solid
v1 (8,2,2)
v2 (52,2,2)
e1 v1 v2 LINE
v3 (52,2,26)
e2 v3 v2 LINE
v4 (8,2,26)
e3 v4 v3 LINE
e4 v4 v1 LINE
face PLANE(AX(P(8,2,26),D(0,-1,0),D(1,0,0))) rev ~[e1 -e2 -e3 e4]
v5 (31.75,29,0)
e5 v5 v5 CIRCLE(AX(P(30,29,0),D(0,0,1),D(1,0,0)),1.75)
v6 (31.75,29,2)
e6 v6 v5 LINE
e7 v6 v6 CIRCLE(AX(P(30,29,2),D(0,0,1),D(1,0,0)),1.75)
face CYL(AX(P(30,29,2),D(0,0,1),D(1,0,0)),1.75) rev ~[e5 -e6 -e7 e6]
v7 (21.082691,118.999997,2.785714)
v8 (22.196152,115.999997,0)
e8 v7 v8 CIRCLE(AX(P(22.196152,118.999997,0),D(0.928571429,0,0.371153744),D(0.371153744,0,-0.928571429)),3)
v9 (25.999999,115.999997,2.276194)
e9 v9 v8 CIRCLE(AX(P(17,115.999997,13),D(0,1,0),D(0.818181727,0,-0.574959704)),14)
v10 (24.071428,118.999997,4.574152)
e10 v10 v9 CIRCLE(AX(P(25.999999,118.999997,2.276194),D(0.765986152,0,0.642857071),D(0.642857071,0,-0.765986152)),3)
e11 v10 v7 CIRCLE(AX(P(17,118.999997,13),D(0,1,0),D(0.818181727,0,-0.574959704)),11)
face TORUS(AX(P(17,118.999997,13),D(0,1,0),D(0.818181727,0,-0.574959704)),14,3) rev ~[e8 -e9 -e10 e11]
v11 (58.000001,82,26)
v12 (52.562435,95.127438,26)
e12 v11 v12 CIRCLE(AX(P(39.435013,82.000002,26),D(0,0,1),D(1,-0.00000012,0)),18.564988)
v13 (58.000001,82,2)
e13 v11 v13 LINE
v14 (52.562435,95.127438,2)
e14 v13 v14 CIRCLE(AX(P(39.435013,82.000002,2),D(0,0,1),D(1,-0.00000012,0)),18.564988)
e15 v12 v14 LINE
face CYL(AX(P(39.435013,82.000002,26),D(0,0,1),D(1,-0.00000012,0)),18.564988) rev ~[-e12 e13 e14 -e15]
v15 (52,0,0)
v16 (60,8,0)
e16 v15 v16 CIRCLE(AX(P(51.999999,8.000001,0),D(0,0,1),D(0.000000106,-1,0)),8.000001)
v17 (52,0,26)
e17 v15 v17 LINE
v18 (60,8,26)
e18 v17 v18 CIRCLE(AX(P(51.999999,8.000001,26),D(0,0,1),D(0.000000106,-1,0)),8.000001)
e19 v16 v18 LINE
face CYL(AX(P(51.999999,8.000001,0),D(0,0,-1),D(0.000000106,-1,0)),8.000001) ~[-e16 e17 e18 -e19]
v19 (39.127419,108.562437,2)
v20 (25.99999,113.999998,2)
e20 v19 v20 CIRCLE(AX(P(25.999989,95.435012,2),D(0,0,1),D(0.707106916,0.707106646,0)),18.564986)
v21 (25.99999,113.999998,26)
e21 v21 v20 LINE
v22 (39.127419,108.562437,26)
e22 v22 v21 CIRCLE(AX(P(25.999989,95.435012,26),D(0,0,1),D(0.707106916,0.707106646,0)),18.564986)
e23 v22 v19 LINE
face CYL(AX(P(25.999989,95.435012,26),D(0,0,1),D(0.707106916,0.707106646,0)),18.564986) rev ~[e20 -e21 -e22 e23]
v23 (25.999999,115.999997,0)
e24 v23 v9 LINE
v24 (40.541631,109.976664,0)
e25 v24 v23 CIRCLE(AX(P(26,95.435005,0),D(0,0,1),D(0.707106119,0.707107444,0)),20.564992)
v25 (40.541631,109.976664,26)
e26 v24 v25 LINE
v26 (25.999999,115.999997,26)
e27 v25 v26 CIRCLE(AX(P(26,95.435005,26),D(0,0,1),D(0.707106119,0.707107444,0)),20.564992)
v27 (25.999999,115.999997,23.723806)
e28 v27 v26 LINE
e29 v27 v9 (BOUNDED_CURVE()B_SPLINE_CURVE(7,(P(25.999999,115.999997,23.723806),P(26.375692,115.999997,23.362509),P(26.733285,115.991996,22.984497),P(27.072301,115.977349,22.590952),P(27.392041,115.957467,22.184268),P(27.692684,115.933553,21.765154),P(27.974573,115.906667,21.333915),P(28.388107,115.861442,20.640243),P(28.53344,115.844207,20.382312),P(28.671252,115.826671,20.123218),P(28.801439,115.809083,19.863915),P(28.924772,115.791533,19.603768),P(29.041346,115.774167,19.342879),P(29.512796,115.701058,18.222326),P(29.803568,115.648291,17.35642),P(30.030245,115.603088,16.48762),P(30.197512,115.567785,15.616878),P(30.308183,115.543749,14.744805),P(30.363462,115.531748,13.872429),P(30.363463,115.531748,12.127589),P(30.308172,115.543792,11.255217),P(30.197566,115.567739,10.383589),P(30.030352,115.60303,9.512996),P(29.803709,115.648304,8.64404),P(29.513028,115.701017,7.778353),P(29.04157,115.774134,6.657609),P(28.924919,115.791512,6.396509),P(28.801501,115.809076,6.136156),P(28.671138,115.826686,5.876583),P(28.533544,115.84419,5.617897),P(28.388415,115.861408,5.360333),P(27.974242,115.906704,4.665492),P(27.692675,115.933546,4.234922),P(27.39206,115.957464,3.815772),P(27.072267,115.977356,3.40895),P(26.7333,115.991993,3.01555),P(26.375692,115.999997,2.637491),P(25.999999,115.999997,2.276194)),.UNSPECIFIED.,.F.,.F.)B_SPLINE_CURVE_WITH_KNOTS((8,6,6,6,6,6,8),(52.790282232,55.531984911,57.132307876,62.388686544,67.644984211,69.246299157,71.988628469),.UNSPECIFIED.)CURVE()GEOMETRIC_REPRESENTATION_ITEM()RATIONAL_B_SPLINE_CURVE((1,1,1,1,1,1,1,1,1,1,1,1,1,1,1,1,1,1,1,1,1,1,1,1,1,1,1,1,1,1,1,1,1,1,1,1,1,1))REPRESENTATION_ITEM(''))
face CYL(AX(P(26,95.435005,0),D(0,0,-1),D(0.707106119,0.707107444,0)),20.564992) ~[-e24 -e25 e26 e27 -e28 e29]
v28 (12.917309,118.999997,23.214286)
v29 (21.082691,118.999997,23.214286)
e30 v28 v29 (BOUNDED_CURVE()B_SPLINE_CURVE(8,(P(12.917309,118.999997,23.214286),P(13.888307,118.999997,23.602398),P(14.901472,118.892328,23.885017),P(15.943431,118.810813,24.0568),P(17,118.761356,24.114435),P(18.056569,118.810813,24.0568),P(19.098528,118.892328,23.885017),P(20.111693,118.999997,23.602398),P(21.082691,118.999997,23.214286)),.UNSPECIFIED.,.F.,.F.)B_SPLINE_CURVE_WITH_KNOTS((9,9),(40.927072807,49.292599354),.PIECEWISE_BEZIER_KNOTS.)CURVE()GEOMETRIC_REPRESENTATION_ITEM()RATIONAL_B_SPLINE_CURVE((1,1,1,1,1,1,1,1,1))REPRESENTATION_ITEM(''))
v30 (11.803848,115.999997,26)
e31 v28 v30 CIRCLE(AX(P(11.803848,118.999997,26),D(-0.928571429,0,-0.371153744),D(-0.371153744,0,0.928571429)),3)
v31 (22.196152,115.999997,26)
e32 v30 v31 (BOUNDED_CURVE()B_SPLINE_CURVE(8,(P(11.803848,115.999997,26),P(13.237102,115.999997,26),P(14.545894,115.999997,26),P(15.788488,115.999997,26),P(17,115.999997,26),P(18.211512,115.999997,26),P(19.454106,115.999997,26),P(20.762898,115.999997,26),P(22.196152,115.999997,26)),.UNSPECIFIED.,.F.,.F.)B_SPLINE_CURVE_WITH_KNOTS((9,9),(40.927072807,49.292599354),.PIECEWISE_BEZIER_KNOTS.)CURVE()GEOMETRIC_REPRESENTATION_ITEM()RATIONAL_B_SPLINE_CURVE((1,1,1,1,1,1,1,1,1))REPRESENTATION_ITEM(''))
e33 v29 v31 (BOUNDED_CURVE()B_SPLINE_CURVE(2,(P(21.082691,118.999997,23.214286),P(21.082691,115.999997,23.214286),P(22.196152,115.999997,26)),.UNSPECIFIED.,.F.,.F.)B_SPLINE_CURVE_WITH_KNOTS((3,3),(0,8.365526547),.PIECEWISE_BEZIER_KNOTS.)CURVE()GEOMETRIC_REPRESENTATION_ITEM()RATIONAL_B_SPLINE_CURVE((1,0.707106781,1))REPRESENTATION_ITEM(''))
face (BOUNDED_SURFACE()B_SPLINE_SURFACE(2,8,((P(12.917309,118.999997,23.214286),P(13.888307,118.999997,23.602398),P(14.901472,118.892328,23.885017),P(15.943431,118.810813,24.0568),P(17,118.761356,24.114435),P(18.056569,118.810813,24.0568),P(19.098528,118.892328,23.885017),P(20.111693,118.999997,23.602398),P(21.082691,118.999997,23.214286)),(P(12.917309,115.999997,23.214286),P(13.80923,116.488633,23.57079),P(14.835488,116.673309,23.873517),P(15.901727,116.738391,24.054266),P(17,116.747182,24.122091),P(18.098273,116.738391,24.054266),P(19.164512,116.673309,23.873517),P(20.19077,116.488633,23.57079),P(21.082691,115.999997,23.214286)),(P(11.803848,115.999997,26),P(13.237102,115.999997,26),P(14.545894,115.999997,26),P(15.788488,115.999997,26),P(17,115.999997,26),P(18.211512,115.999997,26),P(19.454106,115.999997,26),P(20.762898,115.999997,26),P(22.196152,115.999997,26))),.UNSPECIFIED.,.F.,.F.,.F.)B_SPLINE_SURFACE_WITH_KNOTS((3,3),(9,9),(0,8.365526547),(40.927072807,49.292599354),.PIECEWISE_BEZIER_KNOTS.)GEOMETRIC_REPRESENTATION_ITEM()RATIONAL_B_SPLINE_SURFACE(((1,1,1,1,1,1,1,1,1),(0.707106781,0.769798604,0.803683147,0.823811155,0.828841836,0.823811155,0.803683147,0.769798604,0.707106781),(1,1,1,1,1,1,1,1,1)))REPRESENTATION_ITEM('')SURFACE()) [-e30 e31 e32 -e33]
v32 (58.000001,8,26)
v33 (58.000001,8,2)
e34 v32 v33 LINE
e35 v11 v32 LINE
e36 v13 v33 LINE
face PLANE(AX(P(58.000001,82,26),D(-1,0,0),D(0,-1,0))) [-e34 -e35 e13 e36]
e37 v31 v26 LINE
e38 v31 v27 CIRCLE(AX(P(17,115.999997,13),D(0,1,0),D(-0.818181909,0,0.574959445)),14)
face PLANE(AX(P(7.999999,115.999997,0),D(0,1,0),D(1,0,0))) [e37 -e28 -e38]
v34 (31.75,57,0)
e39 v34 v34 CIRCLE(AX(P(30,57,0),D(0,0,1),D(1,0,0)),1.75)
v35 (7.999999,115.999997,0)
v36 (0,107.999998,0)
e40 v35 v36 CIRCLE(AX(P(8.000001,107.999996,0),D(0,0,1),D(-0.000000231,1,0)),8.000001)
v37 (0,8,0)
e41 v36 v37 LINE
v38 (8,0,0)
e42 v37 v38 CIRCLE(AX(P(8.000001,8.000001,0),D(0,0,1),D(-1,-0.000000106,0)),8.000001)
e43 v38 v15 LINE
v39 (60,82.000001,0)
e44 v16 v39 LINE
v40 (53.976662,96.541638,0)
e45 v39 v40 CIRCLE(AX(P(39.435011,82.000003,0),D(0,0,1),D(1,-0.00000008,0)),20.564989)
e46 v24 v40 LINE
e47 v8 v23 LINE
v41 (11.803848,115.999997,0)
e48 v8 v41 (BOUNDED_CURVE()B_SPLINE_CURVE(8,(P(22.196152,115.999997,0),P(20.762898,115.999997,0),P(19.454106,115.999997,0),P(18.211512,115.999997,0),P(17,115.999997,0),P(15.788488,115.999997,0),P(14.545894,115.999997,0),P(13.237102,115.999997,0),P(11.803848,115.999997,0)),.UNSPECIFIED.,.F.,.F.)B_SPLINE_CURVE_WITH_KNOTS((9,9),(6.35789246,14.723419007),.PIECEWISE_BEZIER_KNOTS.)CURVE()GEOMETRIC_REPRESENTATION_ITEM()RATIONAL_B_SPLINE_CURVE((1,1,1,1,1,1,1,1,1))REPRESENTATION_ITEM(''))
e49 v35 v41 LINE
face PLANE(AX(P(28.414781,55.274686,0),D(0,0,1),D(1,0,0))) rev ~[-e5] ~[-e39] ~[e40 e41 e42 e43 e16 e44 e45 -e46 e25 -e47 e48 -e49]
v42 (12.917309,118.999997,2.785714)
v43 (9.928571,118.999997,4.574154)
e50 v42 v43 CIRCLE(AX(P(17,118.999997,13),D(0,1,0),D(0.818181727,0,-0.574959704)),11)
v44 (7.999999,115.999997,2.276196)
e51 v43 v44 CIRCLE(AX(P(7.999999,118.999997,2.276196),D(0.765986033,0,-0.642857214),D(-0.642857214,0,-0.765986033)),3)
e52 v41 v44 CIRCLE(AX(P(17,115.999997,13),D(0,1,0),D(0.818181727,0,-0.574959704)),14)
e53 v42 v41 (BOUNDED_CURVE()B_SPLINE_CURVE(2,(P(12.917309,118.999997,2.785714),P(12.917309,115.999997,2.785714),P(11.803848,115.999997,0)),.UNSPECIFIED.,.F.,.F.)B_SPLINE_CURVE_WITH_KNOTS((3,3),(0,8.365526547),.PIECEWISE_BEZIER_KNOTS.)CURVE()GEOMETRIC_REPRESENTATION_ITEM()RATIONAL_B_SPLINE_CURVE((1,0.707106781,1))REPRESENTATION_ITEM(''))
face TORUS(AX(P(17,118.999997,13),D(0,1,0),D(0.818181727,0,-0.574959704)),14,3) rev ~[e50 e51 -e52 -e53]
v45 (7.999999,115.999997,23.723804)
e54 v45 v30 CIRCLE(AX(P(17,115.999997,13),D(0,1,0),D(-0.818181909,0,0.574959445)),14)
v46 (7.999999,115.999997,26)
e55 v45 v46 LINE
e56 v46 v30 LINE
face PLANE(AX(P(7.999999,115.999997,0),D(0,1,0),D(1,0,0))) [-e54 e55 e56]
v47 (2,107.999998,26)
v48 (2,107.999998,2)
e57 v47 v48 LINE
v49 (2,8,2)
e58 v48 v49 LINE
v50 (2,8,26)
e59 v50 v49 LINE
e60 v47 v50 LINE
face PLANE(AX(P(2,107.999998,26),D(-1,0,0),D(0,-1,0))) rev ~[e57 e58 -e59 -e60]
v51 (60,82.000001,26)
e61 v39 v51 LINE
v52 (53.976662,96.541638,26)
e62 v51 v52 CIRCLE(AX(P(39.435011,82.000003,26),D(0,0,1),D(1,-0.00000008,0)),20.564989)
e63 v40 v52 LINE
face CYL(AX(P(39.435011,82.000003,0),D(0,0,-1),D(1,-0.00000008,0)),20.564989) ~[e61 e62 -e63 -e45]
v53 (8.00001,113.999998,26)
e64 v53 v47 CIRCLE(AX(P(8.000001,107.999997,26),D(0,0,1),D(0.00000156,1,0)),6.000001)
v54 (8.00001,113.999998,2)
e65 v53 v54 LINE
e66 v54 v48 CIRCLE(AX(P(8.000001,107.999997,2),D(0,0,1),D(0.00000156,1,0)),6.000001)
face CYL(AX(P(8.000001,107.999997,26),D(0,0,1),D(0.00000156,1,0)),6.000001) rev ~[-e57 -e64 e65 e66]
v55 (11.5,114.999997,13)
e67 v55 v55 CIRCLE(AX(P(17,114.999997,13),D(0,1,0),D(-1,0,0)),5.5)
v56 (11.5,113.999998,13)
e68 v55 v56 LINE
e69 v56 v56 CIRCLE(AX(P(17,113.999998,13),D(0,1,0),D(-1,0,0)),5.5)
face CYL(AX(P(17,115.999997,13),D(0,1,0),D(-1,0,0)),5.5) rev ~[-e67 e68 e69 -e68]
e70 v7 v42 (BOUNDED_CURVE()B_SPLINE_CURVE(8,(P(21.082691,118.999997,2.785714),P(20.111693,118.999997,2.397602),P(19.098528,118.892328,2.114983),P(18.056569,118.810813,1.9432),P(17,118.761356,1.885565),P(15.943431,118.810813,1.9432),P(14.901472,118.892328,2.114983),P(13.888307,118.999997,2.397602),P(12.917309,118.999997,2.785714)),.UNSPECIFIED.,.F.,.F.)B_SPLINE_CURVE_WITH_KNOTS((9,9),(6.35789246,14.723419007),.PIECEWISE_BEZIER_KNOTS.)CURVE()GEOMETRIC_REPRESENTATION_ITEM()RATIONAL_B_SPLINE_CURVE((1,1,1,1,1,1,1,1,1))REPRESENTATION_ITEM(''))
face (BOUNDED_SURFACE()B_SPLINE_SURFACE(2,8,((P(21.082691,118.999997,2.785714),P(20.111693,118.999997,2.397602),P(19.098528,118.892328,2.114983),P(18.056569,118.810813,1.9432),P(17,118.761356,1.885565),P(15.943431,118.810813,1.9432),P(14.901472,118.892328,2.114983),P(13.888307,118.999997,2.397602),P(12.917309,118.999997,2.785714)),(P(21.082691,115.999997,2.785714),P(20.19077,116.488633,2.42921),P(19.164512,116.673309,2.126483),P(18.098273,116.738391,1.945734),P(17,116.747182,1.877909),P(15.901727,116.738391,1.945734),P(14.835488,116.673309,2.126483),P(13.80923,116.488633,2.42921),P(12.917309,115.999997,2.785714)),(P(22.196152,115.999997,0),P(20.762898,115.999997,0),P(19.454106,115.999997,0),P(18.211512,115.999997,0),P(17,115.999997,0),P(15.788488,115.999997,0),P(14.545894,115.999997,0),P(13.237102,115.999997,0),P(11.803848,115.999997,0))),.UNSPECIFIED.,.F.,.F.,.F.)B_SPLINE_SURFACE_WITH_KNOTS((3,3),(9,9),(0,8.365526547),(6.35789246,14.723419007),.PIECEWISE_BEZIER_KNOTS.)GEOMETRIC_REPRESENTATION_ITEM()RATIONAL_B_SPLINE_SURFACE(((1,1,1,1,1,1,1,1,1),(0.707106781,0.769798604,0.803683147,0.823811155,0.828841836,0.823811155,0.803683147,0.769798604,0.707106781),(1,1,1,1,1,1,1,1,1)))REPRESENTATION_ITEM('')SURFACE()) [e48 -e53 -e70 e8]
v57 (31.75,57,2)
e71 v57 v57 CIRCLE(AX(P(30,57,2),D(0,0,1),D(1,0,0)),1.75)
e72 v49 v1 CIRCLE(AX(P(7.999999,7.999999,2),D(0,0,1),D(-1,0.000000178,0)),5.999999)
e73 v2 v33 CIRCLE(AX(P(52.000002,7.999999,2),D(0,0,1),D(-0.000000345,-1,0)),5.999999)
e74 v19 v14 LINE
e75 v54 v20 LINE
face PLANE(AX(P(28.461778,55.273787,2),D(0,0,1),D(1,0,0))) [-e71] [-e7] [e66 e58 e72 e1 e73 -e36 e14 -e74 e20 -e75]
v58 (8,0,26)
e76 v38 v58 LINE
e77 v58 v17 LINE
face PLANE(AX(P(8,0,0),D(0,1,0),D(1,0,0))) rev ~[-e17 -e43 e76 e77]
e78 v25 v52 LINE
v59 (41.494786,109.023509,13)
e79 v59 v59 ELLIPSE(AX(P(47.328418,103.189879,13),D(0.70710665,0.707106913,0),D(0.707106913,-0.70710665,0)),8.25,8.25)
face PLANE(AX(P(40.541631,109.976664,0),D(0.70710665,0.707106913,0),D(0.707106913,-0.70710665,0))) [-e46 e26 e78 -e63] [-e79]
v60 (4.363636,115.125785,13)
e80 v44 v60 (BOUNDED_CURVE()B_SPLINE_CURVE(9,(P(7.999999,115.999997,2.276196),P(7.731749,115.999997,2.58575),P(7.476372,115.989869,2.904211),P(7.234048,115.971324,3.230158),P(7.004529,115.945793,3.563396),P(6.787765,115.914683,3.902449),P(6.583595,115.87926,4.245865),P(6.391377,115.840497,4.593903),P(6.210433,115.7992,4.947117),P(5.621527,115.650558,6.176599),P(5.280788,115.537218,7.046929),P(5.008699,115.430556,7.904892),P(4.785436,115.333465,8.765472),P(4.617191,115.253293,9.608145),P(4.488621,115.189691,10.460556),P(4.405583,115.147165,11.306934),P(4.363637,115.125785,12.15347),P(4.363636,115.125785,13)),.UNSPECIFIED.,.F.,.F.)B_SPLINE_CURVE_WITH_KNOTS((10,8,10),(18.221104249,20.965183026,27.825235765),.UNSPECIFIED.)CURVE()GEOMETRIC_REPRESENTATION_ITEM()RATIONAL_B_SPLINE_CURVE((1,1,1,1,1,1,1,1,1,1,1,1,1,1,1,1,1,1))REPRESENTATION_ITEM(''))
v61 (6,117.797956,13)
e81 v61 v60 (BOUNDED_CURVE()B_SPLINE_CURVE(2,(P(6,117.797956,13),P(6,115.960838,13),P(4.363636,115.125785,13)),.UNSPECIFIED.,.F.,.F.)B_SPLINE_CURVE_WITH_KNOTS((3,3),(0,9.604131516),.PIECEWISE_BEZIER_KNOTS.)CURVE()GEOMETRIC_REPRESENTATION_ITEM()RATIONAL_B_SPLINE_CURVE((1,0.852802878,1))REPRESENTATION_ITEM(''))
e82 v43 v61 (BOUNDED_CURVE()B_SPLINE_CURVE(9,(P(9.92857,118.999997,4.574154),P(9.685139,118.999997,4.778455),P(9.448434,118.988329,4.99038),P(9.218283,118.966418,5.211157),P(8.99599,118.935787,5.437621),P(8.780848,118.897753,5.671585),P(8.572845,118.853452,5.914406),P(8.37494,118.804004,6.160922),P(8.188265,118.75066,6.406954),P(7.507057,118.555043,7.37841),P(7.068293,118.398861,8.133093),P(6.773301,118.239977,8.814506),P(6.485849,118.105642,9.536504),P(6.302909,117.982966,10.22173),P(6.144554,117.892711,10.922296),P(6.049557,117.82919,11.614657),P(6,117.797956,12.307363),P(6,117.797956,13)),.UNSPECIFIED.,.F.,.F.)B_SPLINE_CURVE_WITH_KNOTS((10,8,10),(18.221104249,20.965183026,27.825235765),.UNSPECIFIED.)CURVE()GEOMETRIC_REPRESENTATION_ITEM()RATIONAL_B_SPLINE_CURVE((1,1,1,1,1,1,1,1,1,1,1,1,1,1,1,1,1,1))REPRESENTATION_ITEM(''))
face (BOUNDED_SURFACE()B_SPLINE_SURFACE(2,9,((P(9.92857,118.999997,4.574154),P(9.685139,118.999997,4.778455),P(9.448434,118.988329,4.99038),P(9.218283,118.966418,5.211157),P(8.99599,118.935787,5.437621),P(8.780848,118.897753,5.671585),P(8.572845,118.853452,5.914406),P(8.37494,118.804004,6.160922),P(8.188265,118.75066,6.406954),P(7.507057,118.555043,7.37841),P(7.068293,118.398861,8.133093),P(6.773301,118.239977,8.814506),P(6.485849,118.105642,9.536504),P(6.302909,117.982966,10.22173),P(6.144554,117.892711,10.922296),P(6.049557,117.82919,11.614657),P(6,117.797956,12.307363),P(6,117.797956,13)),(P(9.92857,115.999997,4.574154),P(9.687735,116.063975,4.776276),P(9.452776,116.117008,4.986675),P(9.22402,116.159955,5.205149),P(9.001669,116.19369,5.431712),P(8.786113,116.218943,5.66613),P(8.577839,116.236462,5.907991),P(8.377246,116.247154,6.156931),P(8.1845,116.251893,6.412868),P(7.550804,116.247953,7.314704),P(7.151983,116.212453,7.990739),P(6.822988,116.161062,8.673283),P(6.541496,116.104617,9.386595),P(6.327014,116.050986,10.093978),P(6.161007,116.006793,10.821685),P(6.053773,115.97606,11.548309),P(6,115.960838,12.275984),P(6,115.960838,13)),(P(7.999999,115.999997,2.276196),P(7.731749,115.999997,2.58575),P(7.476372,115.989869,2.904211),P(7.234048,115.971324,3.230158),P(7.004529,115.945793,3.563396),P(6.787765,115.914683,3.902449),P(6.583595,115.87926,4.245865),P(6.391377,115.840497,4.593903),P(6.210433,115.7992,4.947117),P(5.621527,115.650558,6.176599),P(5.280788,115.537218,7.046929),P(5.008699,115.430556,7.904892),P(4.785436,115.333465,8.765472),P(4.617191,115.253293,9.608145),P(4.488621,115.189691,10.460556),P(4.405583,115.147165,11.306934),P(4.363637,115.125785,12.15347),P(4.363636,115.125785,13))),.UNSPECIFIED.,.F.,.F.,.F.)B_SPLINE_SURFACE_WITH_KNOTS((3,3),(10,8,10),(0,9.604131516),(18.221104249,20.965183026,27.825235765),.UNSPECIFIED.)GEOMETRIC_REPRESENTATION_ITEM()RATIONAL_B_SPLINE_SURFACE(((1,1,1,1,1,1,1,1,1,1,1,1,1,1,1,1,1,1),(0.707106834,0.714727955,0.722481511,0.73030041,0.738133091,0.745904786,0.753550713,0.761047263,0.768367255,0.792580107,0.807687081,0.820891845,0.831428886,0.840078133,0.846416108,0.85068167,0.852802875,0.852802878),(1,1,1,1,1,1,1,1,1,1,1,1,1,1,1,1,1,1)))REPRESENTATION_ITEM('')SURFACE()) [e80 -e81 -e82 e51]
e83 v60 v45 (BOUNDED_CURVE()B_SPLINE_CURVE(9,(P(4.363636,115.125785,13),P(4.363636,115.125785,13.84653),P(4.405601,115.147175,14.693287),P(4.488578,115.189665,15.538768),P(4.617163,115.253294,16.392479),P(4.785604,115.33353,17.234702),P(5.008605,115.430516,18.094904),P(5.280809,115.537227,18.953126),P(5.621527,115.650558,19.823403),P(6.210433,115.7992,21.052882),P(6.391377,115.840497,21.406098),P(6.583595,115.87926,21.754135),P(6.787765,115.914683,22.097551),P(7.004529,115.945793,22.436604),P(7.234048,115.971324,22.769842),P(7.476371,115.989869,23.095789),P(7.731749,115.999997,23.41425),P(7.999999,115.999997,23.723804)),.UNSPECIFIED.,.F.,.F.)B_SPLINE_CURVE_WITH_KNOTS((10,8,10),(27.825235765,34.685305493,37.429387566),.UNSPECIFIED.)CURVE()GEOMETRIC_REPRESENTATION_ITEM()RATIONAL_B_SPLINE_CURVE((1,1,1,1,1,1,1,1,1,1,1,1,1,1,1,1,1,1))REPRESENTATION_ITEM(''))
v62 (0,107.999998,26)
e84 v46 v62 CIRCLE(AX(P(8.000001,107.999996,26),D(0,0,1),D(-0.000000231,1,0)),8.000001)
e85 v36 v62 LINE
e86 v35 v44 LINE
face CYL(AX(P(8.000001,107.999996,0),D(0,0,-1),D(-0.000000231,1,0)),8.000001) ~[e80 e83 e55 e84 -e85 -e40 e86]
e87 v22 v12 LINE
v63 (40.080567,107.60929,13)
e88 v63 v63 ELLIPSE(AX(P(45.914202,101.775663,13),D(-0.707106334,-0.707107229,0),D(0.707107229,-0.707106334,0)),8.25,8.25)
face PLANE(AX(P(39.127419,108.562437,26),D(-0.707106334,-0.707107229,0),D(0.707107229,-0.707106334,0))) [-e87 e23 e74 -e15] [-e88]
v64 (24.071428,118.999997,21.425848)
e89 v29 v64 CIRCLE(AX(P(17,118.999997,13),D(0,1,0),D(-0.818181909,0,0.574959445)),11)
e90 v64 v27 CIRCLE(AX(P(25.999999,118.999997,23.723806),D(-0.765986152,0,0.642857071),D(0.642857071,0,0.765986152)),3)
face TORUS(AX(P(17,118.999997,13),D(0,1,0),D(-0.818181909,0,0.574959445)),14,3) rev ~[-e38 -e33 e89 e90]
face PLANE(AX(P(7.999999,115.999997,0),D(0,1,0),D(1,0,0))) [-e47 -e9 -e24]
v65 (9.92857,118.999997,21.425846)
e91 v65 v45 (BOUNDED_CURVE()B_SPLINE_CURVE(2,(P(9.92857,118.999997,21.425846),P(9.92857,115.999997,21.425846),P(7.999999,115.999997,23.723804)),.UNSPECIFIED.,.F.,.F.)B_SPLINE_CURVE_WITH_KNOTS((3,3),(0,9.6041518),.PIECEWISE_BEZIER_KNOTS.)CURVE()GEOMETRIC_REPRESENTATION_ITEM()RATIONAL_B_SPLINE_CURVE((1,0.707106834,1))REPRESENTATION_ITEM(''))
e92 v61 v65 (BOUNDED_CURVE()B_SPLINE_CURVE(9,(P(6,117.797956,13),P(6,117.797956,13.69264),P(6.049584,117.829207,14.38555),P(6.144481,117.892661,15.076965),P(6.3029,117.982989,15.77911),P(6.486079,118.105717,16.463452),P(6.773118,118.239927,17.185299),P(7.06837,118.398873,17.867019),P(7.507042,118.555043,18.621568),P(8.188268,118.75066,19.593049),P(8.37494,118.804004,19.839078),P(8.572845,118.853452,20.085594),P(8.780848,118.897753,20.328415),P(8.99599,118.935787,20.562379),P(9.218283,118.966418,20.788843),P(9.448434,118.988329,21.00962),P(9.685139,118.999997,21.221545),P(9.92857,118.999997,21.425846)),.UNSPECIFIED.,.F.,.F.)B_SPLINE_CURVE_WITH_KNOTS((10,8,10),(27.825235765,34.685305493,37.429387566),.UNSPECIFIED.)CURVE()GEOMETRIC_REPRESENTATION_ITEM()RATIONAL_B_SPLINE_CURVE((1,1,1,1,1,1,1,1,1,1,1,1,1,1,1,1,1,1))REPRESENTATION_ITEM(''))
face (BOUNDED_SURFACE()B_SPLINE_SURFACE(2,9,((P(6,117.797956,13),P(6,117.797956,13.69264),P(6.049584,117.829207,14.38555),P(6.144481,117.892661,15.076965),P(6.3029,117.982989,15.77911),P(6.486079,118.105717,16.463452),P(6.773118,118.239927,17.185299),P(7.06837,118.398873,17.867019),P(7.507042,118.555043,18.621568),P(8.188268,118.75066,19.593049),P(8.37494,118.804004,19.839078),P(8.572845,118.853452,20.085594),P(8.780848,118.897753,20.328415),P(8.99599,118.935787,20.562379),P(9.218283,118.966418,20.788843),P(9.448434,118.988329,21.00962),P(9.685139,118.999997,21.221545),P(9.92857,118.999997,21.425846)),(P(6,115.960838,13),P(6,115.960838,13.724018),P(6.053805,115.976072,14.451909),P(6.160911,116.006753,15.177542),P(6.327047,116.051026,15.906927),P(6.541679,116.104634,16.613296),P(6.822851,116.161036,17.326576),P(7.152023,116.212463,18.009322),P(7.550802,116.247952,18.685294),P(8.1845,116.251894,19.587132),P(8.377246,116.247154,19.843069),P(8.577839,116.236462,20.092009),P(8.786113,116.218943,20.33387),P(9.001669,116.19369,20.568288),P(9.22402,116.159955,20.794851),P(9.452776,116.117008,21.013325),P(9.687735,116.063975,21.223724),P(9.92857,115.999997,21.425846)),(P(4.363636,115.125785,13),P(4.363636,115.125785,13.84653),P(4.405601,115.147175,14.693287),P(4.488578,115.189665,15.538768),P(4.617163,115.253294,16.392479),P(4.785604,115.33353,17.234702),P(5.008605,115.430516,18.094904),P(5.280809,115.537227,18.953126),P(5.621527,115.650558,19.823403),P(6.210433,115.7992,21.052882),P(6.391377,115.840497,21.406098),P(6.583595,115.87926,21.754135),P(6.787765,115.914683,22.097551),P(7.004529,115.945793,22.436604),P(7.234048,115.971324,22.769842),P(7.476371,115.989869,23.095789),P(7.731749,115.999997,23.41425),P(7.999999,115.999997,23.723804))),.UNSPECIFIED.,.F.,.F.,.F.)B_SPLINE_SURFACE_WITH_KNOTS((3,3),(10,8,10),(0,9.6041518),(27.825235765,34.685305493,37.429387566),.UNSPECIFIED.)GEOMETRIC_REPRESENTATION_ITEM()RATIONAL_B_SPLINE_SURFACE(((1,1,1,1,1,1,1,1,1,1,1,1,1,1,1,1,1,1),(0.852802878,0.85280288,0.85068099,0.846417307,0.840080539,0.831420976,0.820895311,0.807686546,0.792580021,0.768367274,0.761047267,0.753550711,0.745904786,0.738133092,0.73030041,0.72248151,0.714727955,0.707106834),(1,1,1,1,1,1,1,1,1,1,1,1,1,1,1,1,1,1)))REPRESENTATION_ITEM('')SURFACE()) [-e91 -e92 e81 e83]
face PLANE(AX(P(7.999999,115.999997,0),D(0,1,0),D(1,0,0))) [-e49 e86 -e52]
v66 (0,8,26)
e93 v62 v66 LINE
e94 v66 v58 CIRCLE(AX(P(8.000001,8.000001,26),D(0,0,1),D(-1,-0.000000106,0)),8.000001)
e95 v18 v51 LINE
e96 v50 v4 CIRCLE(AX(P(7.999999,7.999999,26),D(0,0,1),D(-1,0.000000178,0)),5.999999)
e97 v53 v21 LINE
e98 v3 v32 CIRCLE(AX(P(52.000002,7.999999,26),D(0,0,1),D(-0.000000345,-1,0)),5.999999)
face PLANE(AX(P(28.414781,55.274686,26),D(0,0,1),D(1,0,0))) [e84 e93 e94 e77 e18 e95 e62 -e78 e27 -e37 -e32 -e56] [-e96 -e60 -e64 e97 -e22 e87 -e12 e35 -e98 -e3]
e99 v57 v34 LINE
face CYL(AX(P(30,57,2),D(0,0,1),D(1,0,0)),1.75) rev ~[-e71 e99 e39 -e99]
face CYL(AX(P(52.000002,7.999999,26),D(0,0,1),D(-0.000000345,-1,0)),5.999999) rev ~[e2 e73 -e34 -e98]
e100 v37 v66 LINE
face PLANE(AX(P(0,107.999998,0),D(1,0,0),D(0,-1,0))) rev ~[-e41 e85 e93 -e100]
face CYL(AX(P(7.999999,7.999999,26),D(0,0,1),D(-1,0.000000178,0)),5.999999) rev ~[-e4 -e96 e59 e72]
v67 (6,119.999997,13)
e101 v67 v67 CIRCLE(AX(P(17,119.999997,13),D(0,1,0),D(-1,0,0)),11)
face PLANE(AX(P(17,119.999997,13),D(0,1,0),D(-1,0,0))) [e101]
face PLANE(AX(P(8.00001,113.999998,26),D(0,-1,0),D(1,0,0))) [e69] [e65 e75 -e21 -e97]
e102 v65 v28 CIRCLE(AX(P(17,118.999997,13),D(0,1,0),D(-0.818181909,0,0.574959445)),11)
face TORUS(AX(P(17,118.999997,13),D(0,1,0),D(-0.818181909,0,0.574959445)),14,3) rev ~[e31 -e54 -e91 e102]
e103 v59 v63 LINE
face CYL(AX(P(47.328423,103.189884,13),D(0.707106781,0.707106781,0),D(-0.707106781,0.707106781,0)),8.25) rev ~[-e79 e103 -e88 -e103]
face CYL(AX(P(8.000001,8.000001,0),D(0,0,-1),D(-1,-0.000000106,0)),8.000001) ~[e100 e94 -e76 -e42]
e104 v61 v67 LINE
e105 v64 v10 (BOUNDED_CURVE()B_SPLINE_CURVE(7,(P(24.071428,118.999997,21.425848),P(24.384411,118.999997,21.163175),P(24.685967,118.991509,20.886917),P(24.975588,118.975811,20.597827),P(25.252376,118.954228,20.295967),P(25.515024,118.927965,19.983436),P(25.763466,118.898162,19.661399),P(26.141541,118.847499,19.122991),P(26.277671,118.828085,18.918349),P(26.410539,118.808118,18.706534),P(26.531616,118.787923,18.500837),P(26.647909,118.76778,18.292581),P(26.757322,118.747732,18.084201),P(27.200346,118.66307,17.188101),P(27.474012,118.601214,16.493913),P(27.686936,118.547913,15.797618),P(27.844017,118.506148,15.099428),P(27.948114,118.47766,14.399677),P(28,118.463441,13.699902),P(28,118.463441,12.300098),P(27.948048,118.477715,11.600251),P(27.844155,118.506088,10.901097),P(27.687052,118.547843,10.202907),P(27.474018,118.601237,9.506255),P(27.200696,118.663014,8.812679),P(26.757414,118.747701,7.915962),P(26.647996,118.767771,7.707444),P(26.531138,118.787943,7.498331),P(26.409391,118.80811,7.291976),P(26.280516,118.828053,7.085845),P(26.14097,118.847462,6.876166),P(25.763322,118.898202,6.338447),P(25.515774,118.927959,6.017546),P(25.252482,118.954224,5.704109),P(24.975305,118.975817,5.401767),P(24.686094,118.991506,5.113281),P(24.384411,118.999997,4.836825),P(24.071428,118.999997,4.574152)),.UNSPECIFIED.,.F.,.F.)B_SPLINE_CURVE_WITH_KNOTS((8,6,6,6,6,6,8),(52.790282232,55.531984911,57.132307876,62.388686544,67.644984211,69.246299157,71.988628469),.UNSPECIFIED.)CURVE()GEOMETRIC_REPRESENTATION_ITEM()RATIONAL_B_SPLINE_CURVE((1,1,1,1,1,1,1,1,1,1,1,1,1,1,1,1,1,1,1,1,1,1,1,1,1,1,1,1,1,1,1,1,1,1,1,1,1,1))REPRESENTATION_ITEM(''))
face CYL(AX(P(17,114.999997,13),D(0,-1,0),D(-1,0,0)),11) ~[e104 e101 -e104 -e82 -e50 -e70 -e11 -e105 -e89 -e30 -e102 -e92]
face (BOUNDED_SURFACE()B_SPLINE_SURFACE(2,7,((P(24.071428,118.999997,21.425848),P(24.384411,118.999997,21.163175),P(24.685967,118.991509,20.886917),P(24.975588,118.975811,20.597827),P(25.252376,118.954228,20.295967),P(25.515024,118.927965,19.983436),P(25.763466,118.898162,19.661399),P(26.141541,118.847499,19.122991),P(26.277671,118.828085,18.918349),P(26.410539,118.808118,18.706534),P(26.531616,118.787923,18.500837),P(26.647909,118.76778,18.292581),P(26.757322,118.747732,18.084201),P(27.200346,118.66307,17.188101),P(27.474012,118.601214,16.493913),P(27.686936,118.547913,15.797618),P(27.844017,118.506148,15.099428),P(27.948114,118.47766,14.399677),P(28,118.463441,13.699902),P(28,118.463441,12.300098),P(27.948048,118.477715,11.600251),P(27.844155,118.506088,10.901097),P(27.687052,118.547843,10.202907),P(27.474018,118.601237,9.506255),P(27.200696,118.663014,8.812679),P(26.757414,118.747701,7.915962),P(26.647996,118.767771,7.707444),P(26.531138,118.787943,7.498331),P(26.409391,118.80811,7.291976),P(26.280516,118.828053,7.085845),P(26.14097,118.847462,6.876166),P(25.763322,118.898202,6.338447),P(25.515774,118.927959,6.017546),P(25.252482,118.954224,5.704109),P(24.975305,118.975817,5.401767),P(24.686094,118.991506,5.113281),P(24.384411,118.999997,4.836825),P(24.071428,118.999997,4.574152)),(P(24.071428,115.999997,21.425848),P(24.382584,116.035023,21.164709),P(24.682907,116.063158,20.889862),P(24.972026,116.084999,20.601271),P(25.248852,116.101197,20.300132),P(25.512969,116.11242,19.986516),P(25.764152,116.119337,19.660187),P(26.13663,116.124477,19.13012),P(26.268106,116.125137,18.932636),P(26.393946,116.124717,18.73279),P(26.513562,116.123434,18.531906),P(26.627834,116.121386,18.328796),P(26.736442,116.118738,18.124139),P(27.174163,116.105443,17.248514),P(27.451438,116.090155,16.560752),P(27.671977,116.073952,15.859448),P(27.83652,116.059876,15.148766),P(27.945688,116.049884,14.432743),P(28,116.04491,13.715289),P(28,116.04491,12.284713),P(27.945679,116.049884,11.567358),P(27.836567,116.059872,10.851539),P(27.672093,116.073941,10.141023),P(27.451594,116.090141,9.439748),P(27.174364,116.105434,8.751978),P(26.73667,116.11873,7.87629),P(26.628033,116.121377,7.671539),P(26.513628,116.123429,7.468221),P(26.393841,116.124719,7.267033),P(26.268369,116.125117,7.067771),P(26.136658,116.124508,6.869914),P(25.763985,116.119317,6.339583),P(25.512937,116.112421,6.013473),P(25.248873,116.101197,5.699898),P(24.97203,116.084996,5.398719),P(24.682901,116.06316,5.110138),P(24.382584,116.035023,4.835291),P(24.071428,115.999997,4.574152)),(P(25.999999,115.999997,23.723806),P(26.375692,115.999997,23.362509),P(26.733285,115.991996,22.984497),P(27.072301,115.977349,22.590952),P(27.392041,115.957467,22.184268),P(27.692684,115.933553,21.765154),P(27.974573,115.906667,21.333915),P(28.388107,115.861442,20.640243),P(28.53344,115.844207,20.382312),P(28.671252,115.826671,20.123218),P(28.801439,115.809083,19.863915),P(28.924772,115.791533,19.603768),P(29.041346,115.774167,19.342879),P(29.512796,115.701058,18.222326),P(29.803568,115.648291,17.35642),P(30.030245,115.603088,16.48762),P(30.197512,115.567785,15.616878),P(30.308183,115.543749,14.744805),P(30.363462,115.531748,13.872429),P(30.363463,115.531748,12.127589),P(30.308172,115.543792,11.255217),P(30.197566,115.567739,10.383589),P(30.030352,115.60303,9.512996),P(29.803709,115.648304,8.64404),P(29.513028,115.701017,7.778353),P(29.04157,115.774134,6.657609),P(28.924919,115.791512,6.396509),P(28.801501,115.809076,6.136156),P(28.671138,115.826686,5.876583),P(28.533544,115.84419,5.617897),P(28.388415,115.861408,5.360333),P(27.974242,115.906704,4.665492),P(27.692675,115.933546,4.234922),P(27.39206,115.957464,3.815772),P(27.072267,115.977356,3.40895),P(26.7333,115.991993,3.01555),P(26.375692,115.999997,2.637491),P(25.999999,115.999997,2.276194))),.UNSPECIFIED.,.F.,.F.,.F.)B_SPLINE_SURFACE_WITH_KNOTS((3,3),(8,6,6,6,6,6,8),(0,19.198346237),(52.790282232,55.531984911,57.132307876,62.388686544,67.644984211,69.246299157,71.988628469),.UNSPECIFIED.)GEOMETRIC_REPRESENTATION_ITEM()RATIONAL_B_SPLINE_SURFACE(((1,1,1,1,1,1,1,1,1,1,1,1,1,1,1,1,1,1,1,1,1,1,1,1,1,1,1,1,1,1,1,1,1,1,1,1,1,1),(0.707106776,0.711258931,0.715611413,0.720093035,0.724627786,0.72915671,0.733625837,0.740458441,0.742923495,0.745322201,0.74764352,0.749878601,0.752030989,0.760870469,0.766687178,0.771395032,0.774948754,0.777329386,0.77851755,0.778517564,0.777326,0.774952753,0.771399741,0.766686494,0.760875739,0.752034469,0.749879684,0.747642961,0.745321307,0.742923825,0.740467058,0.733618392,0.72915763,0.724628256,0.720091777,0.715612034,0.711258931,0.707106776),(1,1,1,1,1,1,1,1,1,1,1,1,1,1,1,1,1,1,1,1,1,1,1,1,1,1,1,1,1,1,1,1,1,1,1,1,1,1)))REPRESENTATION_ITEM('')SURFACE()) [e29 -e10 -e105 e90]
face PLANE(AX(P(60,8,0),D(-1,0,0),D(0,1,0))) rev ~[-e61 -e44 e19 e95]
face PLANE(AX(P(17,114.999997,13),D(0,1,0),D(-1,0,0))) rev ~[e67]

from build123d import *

# Parameters (mm, degrees)
PAD_DEPTH       = 26
POCKET_DEPTH    = 24
SKETCH002_R     = 8.25
POCKET001_DEPTH = 3
SKETCH003_R     = 5.5
POCKET002_DEPTH = 3
SKETCH004_R     = 1.75
POCKET003_DEPTH = 5
SKETCH005_R     = 11
POCKET004_DEPTH = 1
SKETCH006_R     = 11
PAD001_DEPTH    = 5
FILLET_R        = 3


with BuildPart() as part:
    # Sketch → Pad (new body)
    with BuildSketch(Plane.XY):
        with BuildLine():
            Line((60, 8), (60, 82.000001))
            ThreePointArc((60, 82.000001), (58.434586, 89.869877), (53.976662, 96.541638))
            Line((40.541631, 109.976664), (53.976662, 96.541638))
            ThreePointArc((40.541631, 109.976664), (33.869872, 114.434584), (25.999999, 115.999997))
            Line((7.999999, 115.999997), (25.999999, 115.999997))
            ThreePointArc((7.999999, 115.999997), (2.343146, 113.656851), (0, 107.999998))
            Line((0, 107.999998), (0, 8))
            ThreePointArc((0, 8), (2.343146, 2.343146), (8, 0))
            Line((8, 0), (52, 0))
            ThreePointArc((52, 0), (57.656854, 2.343146), (60, 8))
        make_face()
    extrude(amount=PAD_DEPTH)

    # Sketch001 → Pocket (cut)
    with BuildSketch(Plane.XY.offset(26)):
        with BuildLine():
            ThreePointArc((8.00001, 113.999998), (3.757363, 112.242642), (2, 107.999998))
            Line((2, 107.999998), (2, 8))
            ThreePointArc((2, 8), (3.757359, 3.757359), (8, 2))
            Line((8, 2), (52, 2))
            ThreePointArc((52, 2), (56.242642, 3.757359), (58.000001, 8))
            Line((58.000001, 82), (58.000001, 8))
            ThreePointArc((58.000001, 82), (56.586824, 89.104519), (52.562435, 95.127438))
            Line((39.127419, 108.562437), (52.562435, 95.127438))
            ThreePointArc((39.127419, 108.562437), (33.104503, 112.586822), (25.99999, 113.999998))
            Line((8.00001, 113.999998), (25.99999, 113.999998))
        make_face()
    extrude(amount=-POCKET_DEPTH, mode=Mode.SUBTRACT)

    # Sketch002 → Pocket001 (cut)
    with BuildSketch(Plane(origin=(75.259141, 75.259166, 0), x_dir=(-0.707107, 0.707107, 0), z_dir=(0.707107, 0.707107, 0))):
        with Locations((39.5, 13)):
            Circle(SKETCH002_R)
    extrude(amount=-POCKET001_DEPTH, mode=Mode.SUBTRACT)

    # Sketch003 → Pocket002 (cut)
    with BuildSketch(Plane(origin=(0, 115.999997, 0), x_dir=(-1, 0, 0), z_dir=(0, 1, 0))):
        with Locations((-17, 13)):
            Circle(SKETCH003_R)
    extrude(amount=-POCKET002_DEPTH, mode=Mode.SUBTRACT)

    # Sketch004 → Pocket003 (cut)
    with BuildSketch(Plane.XY.offset(2)):
        with Locations((30, 29)):
            Circle(SKETCH004_R)
        with Locations((30, 57)):
            Circle(SKETCH004_R)
    extrude(amount=-POCKET003_DEPTH, mode=Mode.SUBTRACT)

    # Sketch005 → Pocket004 (cut)
    with BuildSketch(Plane(origin=(0, 115.999997, 0), x_dir=(-1, 0, 0), z_dir=(0, 1, 0))):
        with Locations((-17, 13)):
            Circle(SKETCH005_R)
    extrude(amount=-POCKET004_DEPTH, mode=Mode.SUBTRACT)

    # Sketch006 → Pad001 (new body)
    with BuildSketch(Plane(origin=(0, 114.999997, 0), x_dir=(-1, 0, 0), z_dir=(0, 1, 0))):
        with Locations((-17, 13)):
            Circle(SKETCH006_R)
    extrude(amount=PAD001_DEPTH)

    # Fillet
    fillet_edges = [part.edges().sort_by_distance(p)[0] for p in [
        (16.999999, 115.999997, 2),
        (28, 115.902514, 12.999999),
        (6.512058, 115.860406, 9.682926),
        (6.512058, 115.860406, 16.317074),
        (16.999999, 115.999997, 24),
    ]]
    fillet(fillet_edges, radius=FILLET_R)


solid = part.part
